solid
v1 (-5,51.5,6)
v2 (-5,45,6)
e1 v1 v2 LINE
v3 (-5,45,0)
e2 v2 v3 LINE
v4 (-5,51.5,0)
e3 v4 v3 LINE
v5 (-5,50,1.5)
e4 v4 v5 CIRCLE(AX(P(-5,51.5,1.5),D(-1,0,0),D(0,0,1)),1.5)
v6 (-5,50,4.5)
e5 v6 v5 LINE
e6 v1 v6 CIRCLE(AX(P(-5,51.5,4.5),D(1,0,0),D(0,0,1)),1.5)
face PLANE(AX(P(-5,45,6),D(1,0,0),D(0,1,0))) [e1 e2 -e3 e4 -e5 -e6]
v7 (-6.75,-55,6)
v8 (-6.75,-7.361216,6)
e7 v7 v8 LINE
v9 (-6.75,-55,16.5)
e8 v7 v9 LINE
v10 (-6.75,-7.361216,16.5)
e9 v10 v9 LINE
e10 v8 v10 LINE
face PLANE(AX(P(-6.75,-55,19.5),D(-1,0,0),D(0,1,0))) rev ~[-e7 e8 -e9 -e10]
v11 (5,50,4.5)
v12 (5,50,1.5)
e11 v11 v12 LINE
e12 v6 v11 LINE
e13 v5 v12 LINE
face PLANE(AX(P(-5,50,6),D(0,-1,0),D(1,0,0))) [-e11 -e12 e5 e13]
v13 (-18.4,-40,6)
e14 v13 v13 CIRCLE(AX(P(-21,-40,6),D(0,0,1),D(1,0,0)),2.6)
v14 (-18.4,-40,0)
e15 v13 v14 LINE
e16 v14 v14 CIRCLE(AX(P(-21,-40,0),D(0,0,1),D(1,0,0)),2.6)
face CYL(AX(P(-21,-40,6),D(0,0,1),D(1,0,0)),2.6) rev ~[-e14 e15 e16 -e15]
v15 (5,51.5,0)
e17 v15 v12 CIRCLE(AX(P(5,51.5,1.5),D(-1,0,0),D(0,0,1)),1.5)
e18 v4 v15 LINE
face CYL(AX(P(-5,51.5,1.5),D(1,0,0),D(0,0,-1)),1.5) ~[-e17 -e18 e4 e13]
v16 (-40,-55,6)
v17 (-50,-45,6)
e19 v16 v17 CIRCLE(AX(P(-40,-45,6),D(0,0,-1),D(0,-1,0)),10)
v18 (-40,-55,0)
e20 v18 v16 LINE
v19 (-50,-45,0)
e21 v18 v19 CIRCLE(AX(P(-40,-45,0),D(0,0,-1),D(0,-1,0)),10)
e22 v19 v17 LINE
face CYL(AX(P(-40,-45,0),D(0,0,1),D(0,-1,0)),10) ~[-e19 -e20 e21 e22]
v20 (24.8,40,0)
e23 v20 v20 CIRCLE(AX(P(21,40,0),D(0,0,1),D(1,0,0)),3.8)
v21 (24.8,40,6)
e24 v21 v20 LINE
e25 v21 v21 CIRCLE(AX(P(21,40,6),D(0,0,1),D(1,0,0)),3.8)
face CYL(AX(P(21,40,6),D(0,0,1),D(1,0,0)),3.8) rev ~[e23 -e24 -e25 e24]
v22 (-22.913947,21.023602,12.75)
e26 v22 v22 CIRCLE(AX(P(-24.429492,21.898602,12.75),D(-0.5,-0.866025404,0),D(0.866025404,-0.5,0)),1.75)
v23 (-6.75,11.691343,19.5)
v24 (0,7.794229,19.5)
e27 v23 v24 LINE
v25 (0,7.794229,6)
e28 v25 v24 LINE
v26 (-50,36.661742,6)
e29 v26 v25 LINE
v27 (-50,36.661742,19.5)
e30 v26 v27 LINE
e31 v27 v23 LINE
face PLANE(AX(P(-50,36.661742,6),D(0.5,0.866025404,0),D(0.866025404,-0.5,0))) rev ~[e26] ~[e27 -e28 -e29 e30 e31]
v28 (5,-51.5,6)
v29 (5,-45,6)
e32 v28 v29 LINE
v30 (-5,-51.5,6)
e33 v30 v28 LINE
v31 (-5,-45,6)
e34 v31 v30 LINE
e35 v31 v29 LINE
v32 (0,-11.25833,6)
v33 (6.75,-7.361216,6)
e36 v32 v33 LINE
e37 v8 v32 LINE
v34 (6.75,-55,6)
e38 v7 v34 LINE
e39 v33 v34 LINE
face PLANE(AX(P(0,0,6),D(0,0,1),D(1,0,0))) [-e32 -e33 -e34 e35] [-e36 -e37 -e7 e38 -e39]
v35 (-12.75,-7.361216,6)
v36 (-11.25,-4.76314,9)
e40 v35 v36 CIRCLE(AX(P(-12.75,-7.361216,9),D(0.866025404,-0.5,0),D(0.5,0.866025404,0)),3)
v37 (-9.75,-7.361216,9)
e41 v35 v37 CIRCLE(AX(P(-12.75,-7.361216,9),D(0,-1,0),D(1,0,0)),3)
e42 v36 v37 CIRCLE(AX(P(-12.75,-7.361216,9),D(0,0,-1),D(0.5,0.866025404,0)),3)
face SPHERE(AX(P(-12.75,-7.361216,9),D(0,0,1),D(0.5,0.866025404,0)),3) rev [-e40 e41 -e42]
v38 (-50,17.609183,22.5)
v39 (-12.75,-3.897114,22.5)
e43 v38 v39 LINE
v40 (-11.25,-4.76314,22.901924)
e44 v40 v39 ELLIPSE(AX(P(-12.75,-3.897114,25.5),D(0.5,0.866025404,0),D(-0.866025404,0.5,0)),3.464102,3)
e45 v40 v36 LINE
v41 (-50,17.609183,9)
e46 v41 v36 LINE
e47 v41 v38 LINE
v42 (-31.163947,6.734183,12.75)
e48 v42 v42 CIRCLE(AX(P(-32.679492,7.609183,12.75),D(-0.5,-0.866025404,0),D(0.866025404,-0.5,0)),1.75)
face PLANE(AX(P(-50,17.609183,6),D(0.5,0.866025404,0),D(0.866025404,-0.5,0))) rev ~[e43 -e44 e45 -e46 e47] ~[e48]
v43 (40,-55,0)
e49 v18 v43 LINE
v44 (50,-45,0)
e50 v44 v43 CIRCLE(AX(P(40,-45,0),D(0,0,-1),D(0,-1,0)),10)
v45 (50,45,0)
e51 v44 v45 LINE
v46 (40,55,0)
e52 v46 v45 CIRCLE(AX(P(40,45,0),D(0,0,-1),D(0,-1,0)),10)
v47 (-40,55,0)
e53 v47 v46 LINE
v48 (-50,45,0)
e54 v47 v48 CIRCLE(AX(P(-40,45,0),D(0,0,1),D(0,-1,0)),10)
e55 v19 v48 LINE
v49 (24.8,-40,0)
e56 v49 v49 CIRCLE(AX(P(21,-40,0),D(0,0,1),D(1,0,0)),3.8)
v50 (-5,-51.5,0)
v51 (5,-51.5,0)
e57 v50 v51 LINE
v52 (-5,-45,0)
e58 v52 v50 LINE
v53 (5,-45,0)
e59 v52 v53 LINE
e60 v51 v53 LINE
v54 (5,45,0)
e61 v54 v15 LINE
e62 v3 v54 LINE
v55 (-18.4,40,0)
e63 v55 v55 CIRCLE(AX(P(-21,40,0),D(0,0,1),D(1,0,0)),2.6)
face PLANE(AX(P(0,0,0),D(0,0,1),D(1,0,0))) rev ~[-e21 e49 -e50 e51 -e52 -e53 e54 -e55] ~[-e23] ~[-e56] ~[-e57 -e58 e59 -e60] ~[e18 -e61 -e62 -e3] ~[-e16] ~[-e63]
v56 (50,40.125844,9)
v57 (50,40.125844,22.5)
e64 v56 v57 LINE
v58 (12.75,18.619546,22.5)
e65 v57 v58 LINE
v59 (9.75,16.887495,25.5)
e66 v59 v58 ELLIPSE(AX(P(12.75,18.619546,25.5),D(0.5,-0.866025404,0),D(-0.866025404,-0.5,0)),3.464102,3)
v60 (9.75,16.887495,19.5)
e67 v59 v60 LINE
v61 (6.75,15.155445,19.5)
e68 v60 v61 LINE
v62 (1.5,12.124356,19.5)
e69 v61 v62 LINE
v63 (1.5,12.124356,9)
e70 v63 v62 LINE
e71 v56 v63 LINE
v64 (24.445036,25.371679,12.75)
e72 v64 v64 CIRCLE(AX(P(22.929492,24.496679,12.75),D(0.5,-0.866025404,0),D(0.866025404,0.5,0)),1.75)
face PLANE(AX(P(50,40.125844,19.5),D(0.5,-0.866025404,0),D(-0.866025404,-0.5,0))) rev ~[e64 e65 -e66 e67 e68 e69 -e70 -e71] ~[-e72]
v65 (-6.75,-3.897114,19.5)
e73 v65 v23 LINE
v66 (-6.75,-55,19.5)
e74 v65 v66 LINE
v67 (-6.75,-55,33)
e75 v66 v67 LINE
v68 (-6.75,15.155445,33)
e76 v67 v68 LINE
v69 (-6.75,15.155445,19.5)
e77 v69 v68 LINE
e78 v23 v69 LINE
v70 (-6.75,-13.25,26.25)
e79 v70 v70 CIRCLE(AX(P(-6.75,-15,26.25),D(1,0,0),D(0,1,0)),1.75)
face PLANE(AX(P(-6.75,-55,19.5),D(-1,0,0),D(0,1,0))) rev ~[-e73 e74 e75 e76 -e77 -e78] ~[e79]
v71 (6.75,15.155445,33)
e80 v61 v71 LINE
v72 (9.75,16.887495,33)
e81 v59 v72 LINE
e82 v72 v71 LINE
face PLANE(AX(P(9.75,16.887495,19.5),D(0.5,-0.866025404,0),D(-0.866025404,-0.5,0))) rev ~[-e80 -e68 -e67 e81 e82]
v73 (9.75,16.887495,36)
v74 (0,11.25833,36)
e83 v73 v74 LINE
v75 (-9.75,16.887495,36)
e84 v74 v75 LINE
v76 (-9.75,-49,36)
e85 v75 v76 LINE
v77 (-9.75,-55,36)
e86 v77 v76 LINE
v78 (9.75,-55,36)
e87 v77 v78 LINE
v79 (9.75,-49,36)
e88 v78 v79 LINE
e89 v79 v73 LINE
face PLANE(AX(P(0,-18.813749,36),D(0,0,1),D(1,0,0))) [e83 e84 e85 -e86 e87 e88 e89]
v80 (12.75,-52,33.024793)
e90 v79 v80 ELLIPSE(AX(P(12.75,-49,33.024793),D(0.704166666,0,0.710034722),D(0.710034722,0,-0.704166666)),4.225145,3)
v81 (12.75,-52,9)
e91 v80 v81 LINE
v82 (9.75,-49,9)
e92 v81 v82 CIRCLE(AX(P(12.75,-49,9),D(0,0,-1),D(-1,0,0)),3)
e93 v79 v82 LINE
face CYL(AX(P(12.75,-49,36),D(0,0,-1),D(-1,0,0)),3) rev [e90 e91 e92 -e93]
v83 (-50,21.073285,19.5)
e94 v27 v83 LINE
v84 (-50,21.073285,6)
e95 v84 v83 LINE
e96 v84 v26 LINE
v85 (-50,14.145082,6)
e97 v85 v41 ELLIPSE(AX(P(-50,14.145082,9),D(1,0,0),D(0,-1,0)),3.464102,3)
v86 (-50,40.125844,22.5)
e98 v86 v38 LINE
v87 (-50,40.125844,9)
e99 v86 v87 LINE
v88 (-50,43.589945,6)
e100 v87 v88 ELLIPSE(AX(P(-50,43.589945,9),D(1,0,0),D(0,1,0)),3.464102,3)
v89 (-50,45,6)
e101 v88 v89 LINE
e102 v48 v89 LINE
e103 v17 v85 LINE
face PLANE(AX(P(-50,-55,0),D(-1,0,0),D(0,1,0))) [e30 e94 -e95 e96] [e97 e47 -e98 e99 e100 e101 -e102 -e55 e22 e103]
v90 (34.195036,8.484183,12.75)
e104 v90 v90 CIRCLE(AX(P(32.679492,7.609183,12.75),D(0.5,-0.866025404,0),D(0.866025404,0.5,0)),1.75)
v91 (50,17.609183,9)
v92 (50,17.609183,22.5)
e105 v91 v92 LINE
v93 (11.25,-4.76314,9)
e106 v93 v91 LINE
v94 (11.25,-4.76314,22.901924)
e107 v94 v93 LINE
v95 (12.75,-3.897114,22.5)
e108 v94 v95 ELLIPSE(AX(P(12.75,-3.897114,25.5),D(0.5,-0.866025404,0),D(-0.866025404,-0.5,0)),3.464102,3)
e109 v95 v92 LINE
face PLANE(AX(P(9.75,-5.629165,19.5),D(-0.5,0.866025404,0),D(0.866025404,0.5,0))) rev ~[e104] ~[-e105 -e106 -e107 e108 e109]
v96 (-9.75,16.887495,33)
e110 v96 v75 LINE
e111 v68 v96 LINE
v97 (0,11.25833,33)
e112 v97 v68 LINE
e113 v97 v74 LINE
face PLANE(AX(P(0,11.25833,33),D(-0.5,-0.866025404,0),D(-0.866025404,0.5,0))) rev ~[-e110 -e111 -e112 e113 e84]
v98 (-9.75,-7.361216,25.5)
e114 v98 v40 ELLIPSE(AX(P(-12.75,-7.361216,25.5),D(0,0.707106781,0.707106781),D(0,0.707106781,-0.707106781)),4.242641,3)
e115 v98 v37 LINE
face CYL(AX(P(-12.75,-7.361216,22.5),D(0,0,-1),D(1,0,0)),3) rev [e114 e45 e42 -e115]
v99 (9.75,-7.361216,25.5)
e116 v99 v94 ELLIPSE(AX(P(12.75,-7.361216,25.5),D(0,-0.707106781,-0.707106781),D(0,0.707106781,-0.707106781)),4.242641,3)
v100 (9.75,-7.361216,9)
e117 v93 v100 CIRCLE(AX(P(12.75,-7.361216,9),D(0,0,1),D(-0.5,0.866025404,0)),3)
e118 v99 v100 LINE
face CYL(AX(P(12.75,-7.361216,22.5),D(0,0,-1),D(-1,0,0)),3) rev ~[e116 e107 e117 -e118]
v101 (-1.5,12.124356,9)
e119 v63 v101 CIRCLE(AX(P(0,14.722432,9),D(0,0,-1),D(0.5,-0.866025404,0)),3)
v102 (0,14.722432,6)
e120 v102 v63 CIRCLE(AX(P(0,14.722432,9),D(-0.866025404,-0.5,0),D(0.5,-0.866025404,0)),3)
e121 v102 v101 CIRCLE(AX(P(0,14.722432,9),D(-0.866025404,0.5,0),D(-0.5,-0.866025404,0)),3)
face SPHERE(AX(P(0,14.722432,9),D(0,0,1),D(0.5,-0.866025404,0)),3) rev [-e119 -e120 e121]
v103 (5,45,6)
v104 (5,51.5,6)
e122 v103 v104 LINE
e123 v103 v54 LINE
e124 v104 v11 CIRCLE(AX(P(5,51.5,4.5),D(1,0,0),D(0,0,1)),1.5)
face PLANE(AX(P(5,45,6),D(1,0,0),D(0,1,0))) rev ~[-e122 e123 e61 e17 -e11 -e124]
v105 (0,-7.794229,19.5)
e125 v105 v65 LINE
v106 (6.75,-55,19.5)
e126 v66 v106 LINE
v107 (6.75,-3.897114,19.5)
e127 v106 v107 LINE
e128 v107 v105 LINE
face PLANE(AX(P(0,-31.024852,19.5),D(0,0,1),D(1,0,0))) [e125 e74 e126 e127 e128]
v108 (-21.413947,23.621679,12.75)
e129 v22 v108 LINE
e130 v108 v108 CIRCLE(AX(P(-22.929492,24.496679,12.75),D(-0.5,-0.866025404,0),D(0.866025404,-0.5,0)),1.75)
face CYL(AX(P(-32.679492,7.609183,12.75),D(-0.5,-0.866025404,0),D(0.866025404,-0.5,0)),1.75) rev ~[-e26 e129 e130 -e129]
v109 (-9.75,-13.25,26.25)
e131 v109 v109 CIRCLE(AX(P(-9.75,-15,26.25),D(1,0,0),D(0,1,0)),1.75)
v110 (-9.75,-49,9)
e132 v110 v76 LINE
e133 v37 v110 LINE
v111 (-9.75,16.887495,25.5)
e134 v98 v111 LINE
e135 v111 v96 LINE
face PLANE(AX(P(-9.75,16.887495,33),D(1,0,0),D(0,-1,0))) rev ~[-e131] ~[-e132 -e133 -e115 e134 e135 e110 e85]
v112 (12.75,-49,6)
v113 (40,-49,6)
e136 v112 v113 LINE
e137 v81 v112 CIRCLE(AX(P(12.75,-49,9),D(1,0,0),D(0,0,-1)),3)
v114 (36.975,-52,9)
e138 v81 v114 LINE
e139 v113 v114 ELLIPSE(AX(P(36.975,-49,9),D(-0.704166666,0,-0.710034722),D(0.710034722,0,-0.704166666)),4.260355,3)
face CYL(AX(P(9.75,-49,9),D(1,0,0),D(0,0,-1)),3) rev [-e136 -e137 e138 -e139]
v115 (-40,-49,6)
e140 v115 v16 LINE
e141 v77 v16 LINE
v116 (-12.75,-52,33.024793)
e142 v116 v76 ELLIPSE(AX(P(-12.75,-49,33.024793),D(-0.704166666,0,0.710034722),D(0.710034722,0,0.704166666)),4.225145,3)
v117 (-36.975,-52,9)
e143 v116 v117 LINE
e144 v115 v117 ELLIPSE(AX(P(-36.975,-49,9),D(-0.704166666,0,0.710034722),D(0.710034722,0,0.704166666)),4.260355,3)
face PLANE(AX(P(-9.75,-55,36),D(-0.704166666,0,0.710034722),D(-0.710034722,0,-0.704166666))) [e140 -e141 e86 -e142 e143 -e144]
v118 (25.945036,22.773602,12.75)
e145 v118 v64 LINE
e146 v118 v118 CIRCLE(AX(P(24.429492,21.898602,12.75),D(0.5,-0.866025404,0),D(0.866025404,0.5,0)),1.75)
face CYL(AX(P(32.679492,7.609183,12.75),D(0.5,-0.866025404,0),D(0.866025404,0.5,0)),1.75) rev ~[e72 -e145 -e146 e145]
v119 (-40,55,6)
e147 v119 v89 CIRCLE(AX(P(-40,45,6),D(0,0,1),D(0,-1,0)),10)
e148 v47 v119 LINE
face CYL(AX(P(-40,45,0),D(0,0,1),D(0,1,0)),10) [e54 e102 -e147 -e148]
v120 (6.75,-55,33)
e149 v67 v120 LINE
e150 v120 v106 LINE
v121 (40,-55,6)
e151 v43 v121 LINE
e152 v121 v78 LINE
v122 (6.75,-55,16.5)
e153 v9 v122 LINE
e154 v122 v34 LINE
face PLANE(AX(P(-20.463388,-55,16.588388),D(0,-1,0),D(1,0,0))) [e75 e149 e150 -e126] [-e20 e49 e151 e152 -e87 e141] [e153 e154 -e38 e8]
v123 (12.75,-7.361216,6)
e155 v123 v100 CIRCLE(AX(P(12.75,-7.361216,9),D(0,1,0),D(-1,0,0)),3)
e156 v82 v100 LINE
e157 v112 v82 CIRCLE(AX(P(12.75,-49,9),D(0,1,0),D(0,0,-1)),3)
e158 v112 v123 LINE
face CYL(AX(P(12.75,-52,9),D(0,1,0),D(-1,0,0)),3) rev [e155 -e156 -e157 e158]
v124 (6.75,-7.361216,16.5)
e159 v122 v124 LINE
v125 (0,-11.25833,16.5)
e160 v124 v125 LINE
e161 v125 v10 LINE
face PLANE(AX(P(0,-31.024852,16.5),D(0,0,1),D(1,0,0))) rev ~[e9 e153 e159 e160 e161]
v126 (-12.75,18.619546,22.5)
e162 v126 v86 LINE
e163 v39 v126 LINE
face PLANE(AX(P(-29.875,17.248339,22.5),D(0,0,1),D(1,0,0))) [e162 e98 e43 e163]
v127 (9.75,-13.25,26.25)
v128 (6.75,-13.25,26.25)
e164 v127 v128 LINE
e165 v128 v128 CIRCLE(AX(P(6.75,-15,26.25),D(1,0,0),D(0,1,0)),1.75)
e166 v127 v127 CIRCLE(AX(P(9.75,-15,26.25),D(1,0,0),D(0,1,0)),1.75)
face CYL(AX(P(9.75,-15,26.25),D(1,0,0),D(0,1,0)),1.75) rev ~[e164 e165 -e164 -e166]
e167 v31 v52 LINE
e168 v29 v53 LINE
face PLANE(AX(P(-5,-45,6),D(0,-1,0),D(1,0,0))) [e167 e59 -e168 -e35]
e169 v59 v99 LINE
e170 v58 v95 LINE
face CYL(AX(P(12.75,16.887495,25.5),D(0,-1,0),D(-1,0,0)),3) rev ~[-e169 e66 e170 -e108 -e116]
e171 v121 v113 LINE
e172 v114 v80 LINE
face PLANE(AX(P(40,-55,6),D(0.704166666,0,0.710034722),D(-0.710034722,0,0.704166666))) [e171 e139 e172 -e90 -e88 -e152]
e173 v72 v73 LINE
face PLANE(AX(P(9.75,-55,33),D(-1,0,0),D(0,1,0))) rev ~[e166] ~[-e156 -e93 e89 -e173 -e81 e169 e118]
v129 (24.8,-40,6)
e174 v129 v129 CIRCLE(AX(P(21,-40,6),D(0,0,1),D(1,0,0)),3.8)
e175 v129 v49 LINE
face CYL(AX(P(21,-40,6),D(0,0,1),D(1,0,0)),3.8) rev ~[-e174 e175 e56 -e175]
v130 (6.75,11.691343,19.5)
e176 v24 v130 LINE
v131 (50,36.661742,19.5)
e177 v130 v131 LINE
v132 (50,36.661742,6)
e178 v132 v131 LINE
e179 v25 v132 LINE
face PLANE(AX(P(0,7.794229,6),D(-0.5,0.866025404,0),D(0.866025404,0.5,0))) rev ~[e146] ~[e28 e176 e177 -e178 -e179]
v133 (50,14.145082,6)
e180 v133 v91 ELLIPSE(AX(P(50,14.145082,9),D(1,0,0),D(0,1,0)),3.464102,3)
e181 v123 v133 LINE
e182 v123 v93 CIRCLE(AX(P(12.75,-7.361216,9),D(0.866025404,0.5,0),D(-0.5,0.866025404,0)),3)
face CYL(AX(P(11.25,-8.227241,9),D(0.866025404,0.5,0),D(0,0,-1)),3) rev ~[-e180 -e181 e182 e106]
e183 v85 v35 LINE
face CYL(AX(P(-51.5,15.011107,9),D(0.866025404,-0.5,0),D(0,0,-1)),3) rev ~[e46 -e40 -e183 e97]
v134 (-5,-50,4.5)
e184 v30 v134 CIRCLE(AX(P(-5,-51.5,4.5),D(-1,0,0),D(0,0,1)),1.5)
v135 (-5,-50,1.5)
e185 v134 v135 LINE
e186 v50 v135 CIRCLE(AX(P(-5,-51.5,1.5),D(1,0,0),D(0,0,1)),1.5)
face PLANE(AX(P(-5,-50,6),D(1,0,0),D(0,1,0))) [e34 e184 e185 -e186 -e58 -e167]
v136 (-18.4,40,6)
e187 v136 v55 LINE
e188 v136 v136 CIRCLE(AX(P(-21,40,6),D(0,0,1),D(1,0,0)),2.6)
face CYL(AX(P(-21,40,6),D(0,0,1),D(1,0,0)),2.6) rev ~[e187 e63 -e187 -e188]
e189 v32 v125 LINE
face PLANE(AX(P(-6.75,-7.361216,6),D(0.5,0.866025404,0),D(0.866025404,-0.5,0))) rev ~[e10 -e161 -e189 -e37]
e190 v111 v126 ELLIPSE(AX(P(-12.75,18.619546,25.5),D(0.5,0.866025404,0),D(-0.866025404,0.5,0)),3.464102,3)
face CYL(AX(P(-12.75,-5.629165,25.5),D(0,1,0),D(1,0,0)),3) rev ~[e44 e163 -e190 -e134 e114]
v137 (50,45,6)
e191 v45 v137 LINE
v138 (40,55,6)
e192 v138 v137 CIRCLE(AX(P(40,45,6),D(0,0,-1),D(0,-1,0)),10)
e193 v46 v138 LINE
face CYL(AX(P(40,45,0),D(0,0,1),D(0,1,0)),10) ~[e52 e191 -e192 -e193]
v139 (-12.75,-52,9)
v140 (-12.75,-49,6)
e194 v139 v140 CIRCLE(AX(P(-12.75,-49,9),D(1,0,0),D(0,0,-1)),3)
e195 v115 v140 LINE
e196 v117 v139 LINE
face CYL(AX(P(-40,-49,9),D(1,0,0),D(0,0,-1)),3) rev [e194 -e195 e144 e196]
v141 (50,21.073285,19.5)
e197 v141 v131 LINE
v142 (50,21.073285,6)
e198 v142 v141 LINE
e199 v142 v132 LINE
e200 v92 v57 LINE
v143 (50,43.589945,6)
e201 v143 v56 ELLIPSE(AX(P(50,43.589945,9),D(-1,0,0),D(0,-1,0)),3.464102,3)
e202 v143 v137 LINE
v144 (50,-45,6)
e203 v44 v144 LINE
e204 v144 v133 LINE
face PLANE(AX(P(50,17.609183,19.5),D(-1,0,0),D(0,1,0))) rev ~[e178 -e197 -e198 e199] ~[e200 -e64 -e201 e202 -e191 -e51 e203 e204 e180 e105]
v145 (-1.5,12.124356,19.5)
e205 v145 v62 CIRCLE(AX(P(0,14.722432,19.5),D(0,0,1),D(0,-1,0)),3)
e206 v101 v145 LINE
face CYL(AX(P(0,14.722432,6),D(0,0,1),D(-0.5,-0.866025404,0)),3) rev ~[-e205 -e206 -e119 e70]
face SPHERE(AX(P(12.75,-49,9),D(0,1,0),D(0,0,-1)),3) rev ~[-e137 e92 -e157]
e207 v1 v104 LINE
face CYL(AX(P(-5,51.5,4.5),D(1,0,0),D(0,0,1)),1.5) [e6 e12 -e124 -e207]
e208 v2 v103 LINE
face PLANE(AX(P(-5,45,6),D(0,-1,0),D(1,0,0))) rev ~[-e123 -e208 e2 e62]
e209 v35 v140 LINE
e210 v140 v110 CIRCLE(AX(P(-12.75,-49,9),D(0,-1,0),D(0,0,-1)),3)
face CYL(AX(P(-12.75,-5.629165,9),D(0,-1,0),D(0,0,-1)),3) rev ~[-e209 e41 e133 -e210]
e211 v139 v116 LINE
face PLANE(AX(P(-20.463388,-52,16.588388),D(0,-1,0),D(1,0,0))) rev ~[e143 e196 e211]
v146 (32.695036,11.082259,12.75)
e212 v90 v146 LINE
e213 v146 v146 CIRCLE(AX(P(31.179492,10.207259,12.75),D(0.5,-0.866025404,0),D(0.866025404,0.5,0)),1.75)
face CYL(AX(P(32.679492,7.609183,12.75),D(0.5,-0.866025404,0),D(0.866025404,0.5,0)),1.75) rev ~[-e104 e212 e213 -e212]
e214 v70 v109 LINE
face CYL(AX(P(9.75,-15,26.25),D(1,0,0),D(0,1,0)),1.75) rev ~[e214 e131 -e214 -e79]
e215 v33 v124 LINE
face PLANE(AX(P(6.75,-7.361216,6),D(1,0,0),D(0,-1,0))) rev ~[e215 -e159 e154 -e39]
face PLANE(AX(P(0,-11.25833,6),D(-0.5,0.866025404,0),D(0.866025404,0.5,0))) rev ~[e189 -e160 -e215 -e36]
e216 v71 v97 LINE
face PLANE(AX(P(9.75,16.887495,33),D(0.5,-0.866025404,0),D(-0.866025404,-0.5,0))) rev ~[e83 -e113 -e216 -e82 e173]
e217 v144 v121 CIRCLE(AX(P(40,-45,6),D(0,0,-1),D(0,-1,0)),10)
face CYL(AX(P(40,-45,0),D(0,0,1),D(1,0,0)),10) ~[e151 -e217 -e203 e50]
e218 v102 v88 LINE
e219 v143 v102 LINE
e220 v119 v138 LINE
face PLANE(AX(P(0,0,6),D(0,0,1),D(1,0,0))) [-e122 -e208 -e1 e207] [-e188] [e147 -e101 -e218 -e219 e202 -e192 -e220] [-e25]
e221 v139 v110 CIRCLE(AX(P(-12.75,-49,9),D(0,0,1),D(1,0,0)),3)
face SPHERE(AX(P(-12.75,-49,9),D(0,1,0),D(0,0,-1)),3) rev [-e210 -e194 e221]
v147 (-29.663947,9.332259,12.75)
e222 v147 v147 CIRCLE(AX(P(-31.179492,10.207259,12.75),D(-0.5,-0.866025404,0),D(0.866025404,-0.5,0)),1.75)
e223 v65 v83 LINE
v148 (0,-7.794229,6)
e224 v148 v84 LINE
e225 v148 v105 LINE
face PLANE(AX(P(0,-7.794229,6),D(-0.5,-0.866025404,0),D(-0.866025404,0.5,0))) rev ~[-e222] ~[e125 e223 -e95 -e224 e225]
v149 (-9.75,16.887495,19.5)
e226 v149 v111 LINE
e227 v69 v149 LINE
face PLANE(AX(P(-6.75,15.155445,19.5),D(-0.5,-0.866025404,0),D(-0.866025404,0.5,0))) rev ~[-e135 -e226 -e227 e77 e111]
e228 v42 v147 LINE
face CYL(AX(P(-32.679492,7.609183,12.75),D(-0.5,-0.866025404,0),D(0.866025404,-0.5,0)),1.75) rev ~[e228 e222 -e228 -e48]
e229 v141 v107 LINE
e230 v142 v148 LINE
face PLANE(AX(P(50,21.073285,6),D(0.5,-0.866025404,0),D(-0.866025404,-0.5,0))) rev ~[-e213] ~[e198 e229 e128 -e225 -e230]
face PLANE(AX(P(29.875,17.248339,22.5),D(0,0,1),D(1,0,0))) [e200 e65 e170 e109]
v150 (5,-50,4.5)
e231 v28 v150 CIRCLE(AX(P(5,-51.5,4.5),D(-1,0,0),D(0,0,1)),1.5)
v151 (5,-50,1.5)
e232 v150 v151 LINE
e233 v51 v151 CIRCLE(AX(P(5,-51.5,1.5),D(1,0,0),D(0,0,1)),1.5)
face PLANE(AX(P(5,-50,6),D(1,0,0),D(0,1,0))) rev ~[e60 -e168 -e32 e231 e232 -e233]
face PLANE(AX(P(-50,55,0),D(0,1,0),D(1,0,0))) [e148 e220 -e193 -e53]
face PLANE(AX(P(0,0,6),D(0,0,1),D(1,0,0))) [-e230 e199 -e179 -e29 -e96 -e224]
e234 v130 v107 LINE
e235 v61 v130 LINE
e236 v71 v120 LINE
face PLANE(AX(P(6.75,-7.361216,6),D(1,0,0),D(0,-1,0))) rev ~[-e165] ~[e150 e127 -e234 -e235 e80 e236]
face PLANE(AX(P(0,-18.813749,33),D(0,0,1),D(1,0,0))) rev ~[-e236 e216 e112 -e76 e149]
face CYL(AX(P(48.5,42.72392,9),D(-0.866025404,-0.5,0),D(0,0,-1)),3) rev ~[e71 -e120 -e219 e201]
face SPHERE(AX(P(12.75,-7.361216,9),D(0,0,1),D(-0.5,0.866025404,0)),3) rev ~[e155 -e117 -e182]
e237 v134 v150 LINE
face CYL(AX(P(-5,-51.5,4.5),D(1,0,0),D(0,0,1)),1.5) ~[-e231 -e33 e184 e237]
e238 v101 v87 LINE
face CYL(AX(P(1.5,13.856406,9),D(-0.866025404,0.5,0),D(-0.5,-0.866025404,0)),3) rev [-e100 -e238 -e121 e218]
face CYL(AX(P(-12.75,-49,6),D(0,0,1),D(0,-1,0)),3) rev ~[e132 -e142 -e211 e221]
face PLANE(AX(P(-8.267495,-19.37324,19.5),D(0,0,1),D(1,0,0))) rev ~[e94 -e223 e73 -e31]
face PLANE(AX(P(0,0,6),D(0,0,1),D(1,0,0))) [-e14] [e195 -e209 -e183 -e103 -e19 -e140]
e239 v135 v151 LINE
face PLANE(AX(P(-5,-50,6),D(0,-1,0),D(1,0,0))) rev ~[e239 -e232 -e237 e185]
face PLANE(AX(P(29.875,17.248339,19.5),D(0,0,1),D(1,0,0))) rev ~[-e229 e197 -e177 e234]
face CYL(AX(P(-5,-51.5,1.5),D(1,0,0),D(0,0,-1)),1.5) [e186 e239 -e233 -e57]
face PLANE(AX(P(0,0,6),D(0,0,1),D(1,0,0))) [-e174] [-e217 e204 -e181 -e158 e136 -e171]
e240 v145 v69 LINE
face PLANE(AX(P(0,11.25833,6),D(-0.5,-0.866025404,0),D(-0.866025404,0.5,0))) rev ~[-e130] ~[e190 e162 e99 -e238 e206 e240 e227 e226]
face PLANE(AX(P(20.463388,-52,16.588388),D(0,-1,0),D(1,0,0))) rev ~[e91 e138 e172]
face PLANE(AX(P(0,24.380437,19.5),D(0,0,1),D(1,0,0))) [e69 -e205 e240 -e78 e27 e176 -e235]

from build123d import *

# Parameters (mm, degrees)
F0_W      = 100
F0_H      = 110
F1_DEPTH  = 6
F2_W      = 10
F2_H      = 5
F3_DEPTH  = 6.001
F5_R      = 3.8
F5_R_2    = 2.6
F6_DEPTH  = 6.001
F7_DEPTH  = 13.5
F10_DEPTH = 13.5
F12_DEPTH = 3
F14_DEPTH = 3
F16_DEPTH = 3
F17_R     = 1.75
F18_DEPTH = 82.3823972081
F19_R     = 1.75
F20_DEPTH = 82.3823972081
F21_R     = 1.5
F22_R     = 10
F24_DEPTH = 3
F25_R     = 3
F26_R     = 1.75
F27_DEPTH = 59.751


with BuildPart() as f1:
    # F0 (on Top) → F1 (new body)
    with BuildSketch(Plane.XY):
        Rectangle(F0_W, F0_H)
    extrude(amount=F1_DEPTH)

    # F2 (on face) → F3 (cut, through all)
    with BuildSketch(Plane.XY.offset(6)):
        with Locations((0, 47.5)):
            Rectangle(F2_W, F2_H)
        with Locations((0, -47.5)):
            Rectangle(F2_W, F2_H)
    extrude(amount=-F3_DEPTH, mode=Mode.SUBTRACT)

    # F5 (on face) → F6 (cut, through all)
    with BuildSketch(Plane.XY.offset(6)):
        with Locations((21, -40)):
            Circle(F5_R)
        with Locations((21, 40)):
            Circle(F5_R)
        with Locations((-21, 40)):
            Circle(F5_R_2)
        with Locations((-21, -40)):
            Circle(F5_R_2)
    extrude(amount=-F6_DEPTH, mode=Mode.SUBTRACT)

    # F4 (on face) → F7 (join)
    with BuildSketch(Plane.XY.offset(6)):
        Polygon((50, 21.0732848254), (0, -7.7942286341), (-50, 21.0732848254), (-50, 17.6091832103), (-9.75, -5.6291651246), (-9.75, -55), (-6.75, -55), (-6.75, -7.3612159322), (0, -11.2583302492), (6.75, -7.3612159322), (6.75, -55), (9.75, -55), (9.75, -5.6291651246), (50, 17.6091832103), align=None)
        Polygon((-50, 36.6617420935), (0, 7.7942286341), (50, 36.6617420935), (50, 40.1258437087), (0, 11.2583302492), (-50, 40.1258437087), align=None)
    extrude(amount=F7_DEPTH)

    # F9 (on face) → F10 (join)
    with BuildSketch(Plane.XY.offset(19.5)):
        Polygon((-9.75, 16.8874953738), (-9.75, -55), (-6.75, -55), (-6.75, 15.1554445662), align=None)
        Polygon((9.75, 16.8874953738), (6.75, 15.1554445662), (6.75, -55), (9.75, -55), align=None)
    extrude(amount=F10_DEPTH)

    # F11 (on face) → F12 (join)
    with BuildSketch(Plane.XY.offset(19.5)):
        Polygon((9.75, 16.8874953738), (9.75, -5.6291651246), (50, 17.6091832103), (50, 40.1258437087), align=None)
        Polygon((-50, 40.1258437087), (-50, 17.6091832103), (-9.75, -5.6291651246), (-9.75, 16.8874953738), align=None)
    extrude(amount=F12_DEPTH)

    # F13 (on offset) → F14 (join)
    with BuildSketch(Plane.XY.offset(19.5)):
        Polygon((-6.75, -7.3612159322), (-6.75, -55), (6.75, -55), (6.75, -7.3612159322), (0, -11.2583302492), align=None)
    extrude(amount=-F14_DEPTH)

    # F15 (on face) → F16 (join)
    with BuildSketch(Plane.XY.offset(33)):
        Polygon((0, 11.2583302492), (-9.75, 16.8874953738), (-9.75, -55), (9.75, -55), (9.75, 16.8874953738), align=None)
    extrude(amount=F16_DEPTH)

    # F17 (on face) → F18 (cut, through all)
    with BuildSketch(Plane(origin=(4.875, -8.4437476869, 0), x_dir=(0.8660254038, 0.5, 0), z_dir=(0.5, -0.8660254038, 0))):
        with Locations((32.1058617944, 12.75)):
            Circle(F17_R)
    extrude(amount=-F18_DEPTH, mode=Mode.SUBTRACT)

    # F19 (on face) → F20 (cut, through all)
    with BuildSketch(Plane(origin=(-4.875, -8.4437476869, 0), x_dir=(0.8660254038, -0.5, 0), z_dir=(-0.5, -0.8660254038, 0))):
        with Locations((-32.1058617944, 12.75)):
            Circle(F19_R)
    extrude(amount=-F20_DEPTH, mode=Mode.SUBTRACT)

    # F21
    f21_edges = [f1.edges().sort_by_distance(p)[0] for p in [
        (0, 50, 6),
        (0, 50, 0),
        (0, -50, 0),
        (0, -50, 6),
    ]]
    fillet(f21_edges, radius=F21_R)

    # F22
    f22_edges = [f1.edges().sort_by_distance(p)[0] for p in [
        (-50, -55, 3),
        (50, -55, 3),
        (50, 55, 3),
        (-50, 55, 3),
    ]]
    fillet(f22_edges, radius=F22_R)

    # F23 (on face) → F24 (join)
    with BuildSketch(Plane.XZ.offset(55)):
        Polygon((-9.75, 6), (-9.75, 36), (-40, 6), align=None)
        Polygon((9.75, 6), (40, 6), (9.75, 36), align=None)
    extrude(amount=-F24_DEPTH)

    # F25
    f25_edges = [f1.edges().sort_by_distance(p)[0] for p in [
        (-9.75, 5.629165, 22.5),
        (-9.75, -28.814583, 6),
        (-9.75, -5.629165, 14.25),
        (-29.875, 5.990009, 6),
        (9.75, -28.814583, 6),
        (9.75, -5.629165, 14.25),
        (9.75, 5.629165, 22.5),
        (29.875, 5.990009, 6),
        (24.875, -52, 6),
        (-24.875, -52, 6),
        (25, 25.692087, 6),
        (-25, 25.692087, 6),
        (0, 11.25833, 12.75),
        (9.75, -52, 21),
        (-9.75, -52, 21),
    ]]
    fillet(f25_edges, radius=F25_R)

    # F26 (on face) → F27 (cut, through all)
    with BuildSketch(Plane.YZ.offset(9.75)):
        with Locations((-15, 26.25)):
            Circle(F26_R)
    extrude(amount=-F27_DEPTH, mode=Mode.SUBTRACT)


solid = f1.part
